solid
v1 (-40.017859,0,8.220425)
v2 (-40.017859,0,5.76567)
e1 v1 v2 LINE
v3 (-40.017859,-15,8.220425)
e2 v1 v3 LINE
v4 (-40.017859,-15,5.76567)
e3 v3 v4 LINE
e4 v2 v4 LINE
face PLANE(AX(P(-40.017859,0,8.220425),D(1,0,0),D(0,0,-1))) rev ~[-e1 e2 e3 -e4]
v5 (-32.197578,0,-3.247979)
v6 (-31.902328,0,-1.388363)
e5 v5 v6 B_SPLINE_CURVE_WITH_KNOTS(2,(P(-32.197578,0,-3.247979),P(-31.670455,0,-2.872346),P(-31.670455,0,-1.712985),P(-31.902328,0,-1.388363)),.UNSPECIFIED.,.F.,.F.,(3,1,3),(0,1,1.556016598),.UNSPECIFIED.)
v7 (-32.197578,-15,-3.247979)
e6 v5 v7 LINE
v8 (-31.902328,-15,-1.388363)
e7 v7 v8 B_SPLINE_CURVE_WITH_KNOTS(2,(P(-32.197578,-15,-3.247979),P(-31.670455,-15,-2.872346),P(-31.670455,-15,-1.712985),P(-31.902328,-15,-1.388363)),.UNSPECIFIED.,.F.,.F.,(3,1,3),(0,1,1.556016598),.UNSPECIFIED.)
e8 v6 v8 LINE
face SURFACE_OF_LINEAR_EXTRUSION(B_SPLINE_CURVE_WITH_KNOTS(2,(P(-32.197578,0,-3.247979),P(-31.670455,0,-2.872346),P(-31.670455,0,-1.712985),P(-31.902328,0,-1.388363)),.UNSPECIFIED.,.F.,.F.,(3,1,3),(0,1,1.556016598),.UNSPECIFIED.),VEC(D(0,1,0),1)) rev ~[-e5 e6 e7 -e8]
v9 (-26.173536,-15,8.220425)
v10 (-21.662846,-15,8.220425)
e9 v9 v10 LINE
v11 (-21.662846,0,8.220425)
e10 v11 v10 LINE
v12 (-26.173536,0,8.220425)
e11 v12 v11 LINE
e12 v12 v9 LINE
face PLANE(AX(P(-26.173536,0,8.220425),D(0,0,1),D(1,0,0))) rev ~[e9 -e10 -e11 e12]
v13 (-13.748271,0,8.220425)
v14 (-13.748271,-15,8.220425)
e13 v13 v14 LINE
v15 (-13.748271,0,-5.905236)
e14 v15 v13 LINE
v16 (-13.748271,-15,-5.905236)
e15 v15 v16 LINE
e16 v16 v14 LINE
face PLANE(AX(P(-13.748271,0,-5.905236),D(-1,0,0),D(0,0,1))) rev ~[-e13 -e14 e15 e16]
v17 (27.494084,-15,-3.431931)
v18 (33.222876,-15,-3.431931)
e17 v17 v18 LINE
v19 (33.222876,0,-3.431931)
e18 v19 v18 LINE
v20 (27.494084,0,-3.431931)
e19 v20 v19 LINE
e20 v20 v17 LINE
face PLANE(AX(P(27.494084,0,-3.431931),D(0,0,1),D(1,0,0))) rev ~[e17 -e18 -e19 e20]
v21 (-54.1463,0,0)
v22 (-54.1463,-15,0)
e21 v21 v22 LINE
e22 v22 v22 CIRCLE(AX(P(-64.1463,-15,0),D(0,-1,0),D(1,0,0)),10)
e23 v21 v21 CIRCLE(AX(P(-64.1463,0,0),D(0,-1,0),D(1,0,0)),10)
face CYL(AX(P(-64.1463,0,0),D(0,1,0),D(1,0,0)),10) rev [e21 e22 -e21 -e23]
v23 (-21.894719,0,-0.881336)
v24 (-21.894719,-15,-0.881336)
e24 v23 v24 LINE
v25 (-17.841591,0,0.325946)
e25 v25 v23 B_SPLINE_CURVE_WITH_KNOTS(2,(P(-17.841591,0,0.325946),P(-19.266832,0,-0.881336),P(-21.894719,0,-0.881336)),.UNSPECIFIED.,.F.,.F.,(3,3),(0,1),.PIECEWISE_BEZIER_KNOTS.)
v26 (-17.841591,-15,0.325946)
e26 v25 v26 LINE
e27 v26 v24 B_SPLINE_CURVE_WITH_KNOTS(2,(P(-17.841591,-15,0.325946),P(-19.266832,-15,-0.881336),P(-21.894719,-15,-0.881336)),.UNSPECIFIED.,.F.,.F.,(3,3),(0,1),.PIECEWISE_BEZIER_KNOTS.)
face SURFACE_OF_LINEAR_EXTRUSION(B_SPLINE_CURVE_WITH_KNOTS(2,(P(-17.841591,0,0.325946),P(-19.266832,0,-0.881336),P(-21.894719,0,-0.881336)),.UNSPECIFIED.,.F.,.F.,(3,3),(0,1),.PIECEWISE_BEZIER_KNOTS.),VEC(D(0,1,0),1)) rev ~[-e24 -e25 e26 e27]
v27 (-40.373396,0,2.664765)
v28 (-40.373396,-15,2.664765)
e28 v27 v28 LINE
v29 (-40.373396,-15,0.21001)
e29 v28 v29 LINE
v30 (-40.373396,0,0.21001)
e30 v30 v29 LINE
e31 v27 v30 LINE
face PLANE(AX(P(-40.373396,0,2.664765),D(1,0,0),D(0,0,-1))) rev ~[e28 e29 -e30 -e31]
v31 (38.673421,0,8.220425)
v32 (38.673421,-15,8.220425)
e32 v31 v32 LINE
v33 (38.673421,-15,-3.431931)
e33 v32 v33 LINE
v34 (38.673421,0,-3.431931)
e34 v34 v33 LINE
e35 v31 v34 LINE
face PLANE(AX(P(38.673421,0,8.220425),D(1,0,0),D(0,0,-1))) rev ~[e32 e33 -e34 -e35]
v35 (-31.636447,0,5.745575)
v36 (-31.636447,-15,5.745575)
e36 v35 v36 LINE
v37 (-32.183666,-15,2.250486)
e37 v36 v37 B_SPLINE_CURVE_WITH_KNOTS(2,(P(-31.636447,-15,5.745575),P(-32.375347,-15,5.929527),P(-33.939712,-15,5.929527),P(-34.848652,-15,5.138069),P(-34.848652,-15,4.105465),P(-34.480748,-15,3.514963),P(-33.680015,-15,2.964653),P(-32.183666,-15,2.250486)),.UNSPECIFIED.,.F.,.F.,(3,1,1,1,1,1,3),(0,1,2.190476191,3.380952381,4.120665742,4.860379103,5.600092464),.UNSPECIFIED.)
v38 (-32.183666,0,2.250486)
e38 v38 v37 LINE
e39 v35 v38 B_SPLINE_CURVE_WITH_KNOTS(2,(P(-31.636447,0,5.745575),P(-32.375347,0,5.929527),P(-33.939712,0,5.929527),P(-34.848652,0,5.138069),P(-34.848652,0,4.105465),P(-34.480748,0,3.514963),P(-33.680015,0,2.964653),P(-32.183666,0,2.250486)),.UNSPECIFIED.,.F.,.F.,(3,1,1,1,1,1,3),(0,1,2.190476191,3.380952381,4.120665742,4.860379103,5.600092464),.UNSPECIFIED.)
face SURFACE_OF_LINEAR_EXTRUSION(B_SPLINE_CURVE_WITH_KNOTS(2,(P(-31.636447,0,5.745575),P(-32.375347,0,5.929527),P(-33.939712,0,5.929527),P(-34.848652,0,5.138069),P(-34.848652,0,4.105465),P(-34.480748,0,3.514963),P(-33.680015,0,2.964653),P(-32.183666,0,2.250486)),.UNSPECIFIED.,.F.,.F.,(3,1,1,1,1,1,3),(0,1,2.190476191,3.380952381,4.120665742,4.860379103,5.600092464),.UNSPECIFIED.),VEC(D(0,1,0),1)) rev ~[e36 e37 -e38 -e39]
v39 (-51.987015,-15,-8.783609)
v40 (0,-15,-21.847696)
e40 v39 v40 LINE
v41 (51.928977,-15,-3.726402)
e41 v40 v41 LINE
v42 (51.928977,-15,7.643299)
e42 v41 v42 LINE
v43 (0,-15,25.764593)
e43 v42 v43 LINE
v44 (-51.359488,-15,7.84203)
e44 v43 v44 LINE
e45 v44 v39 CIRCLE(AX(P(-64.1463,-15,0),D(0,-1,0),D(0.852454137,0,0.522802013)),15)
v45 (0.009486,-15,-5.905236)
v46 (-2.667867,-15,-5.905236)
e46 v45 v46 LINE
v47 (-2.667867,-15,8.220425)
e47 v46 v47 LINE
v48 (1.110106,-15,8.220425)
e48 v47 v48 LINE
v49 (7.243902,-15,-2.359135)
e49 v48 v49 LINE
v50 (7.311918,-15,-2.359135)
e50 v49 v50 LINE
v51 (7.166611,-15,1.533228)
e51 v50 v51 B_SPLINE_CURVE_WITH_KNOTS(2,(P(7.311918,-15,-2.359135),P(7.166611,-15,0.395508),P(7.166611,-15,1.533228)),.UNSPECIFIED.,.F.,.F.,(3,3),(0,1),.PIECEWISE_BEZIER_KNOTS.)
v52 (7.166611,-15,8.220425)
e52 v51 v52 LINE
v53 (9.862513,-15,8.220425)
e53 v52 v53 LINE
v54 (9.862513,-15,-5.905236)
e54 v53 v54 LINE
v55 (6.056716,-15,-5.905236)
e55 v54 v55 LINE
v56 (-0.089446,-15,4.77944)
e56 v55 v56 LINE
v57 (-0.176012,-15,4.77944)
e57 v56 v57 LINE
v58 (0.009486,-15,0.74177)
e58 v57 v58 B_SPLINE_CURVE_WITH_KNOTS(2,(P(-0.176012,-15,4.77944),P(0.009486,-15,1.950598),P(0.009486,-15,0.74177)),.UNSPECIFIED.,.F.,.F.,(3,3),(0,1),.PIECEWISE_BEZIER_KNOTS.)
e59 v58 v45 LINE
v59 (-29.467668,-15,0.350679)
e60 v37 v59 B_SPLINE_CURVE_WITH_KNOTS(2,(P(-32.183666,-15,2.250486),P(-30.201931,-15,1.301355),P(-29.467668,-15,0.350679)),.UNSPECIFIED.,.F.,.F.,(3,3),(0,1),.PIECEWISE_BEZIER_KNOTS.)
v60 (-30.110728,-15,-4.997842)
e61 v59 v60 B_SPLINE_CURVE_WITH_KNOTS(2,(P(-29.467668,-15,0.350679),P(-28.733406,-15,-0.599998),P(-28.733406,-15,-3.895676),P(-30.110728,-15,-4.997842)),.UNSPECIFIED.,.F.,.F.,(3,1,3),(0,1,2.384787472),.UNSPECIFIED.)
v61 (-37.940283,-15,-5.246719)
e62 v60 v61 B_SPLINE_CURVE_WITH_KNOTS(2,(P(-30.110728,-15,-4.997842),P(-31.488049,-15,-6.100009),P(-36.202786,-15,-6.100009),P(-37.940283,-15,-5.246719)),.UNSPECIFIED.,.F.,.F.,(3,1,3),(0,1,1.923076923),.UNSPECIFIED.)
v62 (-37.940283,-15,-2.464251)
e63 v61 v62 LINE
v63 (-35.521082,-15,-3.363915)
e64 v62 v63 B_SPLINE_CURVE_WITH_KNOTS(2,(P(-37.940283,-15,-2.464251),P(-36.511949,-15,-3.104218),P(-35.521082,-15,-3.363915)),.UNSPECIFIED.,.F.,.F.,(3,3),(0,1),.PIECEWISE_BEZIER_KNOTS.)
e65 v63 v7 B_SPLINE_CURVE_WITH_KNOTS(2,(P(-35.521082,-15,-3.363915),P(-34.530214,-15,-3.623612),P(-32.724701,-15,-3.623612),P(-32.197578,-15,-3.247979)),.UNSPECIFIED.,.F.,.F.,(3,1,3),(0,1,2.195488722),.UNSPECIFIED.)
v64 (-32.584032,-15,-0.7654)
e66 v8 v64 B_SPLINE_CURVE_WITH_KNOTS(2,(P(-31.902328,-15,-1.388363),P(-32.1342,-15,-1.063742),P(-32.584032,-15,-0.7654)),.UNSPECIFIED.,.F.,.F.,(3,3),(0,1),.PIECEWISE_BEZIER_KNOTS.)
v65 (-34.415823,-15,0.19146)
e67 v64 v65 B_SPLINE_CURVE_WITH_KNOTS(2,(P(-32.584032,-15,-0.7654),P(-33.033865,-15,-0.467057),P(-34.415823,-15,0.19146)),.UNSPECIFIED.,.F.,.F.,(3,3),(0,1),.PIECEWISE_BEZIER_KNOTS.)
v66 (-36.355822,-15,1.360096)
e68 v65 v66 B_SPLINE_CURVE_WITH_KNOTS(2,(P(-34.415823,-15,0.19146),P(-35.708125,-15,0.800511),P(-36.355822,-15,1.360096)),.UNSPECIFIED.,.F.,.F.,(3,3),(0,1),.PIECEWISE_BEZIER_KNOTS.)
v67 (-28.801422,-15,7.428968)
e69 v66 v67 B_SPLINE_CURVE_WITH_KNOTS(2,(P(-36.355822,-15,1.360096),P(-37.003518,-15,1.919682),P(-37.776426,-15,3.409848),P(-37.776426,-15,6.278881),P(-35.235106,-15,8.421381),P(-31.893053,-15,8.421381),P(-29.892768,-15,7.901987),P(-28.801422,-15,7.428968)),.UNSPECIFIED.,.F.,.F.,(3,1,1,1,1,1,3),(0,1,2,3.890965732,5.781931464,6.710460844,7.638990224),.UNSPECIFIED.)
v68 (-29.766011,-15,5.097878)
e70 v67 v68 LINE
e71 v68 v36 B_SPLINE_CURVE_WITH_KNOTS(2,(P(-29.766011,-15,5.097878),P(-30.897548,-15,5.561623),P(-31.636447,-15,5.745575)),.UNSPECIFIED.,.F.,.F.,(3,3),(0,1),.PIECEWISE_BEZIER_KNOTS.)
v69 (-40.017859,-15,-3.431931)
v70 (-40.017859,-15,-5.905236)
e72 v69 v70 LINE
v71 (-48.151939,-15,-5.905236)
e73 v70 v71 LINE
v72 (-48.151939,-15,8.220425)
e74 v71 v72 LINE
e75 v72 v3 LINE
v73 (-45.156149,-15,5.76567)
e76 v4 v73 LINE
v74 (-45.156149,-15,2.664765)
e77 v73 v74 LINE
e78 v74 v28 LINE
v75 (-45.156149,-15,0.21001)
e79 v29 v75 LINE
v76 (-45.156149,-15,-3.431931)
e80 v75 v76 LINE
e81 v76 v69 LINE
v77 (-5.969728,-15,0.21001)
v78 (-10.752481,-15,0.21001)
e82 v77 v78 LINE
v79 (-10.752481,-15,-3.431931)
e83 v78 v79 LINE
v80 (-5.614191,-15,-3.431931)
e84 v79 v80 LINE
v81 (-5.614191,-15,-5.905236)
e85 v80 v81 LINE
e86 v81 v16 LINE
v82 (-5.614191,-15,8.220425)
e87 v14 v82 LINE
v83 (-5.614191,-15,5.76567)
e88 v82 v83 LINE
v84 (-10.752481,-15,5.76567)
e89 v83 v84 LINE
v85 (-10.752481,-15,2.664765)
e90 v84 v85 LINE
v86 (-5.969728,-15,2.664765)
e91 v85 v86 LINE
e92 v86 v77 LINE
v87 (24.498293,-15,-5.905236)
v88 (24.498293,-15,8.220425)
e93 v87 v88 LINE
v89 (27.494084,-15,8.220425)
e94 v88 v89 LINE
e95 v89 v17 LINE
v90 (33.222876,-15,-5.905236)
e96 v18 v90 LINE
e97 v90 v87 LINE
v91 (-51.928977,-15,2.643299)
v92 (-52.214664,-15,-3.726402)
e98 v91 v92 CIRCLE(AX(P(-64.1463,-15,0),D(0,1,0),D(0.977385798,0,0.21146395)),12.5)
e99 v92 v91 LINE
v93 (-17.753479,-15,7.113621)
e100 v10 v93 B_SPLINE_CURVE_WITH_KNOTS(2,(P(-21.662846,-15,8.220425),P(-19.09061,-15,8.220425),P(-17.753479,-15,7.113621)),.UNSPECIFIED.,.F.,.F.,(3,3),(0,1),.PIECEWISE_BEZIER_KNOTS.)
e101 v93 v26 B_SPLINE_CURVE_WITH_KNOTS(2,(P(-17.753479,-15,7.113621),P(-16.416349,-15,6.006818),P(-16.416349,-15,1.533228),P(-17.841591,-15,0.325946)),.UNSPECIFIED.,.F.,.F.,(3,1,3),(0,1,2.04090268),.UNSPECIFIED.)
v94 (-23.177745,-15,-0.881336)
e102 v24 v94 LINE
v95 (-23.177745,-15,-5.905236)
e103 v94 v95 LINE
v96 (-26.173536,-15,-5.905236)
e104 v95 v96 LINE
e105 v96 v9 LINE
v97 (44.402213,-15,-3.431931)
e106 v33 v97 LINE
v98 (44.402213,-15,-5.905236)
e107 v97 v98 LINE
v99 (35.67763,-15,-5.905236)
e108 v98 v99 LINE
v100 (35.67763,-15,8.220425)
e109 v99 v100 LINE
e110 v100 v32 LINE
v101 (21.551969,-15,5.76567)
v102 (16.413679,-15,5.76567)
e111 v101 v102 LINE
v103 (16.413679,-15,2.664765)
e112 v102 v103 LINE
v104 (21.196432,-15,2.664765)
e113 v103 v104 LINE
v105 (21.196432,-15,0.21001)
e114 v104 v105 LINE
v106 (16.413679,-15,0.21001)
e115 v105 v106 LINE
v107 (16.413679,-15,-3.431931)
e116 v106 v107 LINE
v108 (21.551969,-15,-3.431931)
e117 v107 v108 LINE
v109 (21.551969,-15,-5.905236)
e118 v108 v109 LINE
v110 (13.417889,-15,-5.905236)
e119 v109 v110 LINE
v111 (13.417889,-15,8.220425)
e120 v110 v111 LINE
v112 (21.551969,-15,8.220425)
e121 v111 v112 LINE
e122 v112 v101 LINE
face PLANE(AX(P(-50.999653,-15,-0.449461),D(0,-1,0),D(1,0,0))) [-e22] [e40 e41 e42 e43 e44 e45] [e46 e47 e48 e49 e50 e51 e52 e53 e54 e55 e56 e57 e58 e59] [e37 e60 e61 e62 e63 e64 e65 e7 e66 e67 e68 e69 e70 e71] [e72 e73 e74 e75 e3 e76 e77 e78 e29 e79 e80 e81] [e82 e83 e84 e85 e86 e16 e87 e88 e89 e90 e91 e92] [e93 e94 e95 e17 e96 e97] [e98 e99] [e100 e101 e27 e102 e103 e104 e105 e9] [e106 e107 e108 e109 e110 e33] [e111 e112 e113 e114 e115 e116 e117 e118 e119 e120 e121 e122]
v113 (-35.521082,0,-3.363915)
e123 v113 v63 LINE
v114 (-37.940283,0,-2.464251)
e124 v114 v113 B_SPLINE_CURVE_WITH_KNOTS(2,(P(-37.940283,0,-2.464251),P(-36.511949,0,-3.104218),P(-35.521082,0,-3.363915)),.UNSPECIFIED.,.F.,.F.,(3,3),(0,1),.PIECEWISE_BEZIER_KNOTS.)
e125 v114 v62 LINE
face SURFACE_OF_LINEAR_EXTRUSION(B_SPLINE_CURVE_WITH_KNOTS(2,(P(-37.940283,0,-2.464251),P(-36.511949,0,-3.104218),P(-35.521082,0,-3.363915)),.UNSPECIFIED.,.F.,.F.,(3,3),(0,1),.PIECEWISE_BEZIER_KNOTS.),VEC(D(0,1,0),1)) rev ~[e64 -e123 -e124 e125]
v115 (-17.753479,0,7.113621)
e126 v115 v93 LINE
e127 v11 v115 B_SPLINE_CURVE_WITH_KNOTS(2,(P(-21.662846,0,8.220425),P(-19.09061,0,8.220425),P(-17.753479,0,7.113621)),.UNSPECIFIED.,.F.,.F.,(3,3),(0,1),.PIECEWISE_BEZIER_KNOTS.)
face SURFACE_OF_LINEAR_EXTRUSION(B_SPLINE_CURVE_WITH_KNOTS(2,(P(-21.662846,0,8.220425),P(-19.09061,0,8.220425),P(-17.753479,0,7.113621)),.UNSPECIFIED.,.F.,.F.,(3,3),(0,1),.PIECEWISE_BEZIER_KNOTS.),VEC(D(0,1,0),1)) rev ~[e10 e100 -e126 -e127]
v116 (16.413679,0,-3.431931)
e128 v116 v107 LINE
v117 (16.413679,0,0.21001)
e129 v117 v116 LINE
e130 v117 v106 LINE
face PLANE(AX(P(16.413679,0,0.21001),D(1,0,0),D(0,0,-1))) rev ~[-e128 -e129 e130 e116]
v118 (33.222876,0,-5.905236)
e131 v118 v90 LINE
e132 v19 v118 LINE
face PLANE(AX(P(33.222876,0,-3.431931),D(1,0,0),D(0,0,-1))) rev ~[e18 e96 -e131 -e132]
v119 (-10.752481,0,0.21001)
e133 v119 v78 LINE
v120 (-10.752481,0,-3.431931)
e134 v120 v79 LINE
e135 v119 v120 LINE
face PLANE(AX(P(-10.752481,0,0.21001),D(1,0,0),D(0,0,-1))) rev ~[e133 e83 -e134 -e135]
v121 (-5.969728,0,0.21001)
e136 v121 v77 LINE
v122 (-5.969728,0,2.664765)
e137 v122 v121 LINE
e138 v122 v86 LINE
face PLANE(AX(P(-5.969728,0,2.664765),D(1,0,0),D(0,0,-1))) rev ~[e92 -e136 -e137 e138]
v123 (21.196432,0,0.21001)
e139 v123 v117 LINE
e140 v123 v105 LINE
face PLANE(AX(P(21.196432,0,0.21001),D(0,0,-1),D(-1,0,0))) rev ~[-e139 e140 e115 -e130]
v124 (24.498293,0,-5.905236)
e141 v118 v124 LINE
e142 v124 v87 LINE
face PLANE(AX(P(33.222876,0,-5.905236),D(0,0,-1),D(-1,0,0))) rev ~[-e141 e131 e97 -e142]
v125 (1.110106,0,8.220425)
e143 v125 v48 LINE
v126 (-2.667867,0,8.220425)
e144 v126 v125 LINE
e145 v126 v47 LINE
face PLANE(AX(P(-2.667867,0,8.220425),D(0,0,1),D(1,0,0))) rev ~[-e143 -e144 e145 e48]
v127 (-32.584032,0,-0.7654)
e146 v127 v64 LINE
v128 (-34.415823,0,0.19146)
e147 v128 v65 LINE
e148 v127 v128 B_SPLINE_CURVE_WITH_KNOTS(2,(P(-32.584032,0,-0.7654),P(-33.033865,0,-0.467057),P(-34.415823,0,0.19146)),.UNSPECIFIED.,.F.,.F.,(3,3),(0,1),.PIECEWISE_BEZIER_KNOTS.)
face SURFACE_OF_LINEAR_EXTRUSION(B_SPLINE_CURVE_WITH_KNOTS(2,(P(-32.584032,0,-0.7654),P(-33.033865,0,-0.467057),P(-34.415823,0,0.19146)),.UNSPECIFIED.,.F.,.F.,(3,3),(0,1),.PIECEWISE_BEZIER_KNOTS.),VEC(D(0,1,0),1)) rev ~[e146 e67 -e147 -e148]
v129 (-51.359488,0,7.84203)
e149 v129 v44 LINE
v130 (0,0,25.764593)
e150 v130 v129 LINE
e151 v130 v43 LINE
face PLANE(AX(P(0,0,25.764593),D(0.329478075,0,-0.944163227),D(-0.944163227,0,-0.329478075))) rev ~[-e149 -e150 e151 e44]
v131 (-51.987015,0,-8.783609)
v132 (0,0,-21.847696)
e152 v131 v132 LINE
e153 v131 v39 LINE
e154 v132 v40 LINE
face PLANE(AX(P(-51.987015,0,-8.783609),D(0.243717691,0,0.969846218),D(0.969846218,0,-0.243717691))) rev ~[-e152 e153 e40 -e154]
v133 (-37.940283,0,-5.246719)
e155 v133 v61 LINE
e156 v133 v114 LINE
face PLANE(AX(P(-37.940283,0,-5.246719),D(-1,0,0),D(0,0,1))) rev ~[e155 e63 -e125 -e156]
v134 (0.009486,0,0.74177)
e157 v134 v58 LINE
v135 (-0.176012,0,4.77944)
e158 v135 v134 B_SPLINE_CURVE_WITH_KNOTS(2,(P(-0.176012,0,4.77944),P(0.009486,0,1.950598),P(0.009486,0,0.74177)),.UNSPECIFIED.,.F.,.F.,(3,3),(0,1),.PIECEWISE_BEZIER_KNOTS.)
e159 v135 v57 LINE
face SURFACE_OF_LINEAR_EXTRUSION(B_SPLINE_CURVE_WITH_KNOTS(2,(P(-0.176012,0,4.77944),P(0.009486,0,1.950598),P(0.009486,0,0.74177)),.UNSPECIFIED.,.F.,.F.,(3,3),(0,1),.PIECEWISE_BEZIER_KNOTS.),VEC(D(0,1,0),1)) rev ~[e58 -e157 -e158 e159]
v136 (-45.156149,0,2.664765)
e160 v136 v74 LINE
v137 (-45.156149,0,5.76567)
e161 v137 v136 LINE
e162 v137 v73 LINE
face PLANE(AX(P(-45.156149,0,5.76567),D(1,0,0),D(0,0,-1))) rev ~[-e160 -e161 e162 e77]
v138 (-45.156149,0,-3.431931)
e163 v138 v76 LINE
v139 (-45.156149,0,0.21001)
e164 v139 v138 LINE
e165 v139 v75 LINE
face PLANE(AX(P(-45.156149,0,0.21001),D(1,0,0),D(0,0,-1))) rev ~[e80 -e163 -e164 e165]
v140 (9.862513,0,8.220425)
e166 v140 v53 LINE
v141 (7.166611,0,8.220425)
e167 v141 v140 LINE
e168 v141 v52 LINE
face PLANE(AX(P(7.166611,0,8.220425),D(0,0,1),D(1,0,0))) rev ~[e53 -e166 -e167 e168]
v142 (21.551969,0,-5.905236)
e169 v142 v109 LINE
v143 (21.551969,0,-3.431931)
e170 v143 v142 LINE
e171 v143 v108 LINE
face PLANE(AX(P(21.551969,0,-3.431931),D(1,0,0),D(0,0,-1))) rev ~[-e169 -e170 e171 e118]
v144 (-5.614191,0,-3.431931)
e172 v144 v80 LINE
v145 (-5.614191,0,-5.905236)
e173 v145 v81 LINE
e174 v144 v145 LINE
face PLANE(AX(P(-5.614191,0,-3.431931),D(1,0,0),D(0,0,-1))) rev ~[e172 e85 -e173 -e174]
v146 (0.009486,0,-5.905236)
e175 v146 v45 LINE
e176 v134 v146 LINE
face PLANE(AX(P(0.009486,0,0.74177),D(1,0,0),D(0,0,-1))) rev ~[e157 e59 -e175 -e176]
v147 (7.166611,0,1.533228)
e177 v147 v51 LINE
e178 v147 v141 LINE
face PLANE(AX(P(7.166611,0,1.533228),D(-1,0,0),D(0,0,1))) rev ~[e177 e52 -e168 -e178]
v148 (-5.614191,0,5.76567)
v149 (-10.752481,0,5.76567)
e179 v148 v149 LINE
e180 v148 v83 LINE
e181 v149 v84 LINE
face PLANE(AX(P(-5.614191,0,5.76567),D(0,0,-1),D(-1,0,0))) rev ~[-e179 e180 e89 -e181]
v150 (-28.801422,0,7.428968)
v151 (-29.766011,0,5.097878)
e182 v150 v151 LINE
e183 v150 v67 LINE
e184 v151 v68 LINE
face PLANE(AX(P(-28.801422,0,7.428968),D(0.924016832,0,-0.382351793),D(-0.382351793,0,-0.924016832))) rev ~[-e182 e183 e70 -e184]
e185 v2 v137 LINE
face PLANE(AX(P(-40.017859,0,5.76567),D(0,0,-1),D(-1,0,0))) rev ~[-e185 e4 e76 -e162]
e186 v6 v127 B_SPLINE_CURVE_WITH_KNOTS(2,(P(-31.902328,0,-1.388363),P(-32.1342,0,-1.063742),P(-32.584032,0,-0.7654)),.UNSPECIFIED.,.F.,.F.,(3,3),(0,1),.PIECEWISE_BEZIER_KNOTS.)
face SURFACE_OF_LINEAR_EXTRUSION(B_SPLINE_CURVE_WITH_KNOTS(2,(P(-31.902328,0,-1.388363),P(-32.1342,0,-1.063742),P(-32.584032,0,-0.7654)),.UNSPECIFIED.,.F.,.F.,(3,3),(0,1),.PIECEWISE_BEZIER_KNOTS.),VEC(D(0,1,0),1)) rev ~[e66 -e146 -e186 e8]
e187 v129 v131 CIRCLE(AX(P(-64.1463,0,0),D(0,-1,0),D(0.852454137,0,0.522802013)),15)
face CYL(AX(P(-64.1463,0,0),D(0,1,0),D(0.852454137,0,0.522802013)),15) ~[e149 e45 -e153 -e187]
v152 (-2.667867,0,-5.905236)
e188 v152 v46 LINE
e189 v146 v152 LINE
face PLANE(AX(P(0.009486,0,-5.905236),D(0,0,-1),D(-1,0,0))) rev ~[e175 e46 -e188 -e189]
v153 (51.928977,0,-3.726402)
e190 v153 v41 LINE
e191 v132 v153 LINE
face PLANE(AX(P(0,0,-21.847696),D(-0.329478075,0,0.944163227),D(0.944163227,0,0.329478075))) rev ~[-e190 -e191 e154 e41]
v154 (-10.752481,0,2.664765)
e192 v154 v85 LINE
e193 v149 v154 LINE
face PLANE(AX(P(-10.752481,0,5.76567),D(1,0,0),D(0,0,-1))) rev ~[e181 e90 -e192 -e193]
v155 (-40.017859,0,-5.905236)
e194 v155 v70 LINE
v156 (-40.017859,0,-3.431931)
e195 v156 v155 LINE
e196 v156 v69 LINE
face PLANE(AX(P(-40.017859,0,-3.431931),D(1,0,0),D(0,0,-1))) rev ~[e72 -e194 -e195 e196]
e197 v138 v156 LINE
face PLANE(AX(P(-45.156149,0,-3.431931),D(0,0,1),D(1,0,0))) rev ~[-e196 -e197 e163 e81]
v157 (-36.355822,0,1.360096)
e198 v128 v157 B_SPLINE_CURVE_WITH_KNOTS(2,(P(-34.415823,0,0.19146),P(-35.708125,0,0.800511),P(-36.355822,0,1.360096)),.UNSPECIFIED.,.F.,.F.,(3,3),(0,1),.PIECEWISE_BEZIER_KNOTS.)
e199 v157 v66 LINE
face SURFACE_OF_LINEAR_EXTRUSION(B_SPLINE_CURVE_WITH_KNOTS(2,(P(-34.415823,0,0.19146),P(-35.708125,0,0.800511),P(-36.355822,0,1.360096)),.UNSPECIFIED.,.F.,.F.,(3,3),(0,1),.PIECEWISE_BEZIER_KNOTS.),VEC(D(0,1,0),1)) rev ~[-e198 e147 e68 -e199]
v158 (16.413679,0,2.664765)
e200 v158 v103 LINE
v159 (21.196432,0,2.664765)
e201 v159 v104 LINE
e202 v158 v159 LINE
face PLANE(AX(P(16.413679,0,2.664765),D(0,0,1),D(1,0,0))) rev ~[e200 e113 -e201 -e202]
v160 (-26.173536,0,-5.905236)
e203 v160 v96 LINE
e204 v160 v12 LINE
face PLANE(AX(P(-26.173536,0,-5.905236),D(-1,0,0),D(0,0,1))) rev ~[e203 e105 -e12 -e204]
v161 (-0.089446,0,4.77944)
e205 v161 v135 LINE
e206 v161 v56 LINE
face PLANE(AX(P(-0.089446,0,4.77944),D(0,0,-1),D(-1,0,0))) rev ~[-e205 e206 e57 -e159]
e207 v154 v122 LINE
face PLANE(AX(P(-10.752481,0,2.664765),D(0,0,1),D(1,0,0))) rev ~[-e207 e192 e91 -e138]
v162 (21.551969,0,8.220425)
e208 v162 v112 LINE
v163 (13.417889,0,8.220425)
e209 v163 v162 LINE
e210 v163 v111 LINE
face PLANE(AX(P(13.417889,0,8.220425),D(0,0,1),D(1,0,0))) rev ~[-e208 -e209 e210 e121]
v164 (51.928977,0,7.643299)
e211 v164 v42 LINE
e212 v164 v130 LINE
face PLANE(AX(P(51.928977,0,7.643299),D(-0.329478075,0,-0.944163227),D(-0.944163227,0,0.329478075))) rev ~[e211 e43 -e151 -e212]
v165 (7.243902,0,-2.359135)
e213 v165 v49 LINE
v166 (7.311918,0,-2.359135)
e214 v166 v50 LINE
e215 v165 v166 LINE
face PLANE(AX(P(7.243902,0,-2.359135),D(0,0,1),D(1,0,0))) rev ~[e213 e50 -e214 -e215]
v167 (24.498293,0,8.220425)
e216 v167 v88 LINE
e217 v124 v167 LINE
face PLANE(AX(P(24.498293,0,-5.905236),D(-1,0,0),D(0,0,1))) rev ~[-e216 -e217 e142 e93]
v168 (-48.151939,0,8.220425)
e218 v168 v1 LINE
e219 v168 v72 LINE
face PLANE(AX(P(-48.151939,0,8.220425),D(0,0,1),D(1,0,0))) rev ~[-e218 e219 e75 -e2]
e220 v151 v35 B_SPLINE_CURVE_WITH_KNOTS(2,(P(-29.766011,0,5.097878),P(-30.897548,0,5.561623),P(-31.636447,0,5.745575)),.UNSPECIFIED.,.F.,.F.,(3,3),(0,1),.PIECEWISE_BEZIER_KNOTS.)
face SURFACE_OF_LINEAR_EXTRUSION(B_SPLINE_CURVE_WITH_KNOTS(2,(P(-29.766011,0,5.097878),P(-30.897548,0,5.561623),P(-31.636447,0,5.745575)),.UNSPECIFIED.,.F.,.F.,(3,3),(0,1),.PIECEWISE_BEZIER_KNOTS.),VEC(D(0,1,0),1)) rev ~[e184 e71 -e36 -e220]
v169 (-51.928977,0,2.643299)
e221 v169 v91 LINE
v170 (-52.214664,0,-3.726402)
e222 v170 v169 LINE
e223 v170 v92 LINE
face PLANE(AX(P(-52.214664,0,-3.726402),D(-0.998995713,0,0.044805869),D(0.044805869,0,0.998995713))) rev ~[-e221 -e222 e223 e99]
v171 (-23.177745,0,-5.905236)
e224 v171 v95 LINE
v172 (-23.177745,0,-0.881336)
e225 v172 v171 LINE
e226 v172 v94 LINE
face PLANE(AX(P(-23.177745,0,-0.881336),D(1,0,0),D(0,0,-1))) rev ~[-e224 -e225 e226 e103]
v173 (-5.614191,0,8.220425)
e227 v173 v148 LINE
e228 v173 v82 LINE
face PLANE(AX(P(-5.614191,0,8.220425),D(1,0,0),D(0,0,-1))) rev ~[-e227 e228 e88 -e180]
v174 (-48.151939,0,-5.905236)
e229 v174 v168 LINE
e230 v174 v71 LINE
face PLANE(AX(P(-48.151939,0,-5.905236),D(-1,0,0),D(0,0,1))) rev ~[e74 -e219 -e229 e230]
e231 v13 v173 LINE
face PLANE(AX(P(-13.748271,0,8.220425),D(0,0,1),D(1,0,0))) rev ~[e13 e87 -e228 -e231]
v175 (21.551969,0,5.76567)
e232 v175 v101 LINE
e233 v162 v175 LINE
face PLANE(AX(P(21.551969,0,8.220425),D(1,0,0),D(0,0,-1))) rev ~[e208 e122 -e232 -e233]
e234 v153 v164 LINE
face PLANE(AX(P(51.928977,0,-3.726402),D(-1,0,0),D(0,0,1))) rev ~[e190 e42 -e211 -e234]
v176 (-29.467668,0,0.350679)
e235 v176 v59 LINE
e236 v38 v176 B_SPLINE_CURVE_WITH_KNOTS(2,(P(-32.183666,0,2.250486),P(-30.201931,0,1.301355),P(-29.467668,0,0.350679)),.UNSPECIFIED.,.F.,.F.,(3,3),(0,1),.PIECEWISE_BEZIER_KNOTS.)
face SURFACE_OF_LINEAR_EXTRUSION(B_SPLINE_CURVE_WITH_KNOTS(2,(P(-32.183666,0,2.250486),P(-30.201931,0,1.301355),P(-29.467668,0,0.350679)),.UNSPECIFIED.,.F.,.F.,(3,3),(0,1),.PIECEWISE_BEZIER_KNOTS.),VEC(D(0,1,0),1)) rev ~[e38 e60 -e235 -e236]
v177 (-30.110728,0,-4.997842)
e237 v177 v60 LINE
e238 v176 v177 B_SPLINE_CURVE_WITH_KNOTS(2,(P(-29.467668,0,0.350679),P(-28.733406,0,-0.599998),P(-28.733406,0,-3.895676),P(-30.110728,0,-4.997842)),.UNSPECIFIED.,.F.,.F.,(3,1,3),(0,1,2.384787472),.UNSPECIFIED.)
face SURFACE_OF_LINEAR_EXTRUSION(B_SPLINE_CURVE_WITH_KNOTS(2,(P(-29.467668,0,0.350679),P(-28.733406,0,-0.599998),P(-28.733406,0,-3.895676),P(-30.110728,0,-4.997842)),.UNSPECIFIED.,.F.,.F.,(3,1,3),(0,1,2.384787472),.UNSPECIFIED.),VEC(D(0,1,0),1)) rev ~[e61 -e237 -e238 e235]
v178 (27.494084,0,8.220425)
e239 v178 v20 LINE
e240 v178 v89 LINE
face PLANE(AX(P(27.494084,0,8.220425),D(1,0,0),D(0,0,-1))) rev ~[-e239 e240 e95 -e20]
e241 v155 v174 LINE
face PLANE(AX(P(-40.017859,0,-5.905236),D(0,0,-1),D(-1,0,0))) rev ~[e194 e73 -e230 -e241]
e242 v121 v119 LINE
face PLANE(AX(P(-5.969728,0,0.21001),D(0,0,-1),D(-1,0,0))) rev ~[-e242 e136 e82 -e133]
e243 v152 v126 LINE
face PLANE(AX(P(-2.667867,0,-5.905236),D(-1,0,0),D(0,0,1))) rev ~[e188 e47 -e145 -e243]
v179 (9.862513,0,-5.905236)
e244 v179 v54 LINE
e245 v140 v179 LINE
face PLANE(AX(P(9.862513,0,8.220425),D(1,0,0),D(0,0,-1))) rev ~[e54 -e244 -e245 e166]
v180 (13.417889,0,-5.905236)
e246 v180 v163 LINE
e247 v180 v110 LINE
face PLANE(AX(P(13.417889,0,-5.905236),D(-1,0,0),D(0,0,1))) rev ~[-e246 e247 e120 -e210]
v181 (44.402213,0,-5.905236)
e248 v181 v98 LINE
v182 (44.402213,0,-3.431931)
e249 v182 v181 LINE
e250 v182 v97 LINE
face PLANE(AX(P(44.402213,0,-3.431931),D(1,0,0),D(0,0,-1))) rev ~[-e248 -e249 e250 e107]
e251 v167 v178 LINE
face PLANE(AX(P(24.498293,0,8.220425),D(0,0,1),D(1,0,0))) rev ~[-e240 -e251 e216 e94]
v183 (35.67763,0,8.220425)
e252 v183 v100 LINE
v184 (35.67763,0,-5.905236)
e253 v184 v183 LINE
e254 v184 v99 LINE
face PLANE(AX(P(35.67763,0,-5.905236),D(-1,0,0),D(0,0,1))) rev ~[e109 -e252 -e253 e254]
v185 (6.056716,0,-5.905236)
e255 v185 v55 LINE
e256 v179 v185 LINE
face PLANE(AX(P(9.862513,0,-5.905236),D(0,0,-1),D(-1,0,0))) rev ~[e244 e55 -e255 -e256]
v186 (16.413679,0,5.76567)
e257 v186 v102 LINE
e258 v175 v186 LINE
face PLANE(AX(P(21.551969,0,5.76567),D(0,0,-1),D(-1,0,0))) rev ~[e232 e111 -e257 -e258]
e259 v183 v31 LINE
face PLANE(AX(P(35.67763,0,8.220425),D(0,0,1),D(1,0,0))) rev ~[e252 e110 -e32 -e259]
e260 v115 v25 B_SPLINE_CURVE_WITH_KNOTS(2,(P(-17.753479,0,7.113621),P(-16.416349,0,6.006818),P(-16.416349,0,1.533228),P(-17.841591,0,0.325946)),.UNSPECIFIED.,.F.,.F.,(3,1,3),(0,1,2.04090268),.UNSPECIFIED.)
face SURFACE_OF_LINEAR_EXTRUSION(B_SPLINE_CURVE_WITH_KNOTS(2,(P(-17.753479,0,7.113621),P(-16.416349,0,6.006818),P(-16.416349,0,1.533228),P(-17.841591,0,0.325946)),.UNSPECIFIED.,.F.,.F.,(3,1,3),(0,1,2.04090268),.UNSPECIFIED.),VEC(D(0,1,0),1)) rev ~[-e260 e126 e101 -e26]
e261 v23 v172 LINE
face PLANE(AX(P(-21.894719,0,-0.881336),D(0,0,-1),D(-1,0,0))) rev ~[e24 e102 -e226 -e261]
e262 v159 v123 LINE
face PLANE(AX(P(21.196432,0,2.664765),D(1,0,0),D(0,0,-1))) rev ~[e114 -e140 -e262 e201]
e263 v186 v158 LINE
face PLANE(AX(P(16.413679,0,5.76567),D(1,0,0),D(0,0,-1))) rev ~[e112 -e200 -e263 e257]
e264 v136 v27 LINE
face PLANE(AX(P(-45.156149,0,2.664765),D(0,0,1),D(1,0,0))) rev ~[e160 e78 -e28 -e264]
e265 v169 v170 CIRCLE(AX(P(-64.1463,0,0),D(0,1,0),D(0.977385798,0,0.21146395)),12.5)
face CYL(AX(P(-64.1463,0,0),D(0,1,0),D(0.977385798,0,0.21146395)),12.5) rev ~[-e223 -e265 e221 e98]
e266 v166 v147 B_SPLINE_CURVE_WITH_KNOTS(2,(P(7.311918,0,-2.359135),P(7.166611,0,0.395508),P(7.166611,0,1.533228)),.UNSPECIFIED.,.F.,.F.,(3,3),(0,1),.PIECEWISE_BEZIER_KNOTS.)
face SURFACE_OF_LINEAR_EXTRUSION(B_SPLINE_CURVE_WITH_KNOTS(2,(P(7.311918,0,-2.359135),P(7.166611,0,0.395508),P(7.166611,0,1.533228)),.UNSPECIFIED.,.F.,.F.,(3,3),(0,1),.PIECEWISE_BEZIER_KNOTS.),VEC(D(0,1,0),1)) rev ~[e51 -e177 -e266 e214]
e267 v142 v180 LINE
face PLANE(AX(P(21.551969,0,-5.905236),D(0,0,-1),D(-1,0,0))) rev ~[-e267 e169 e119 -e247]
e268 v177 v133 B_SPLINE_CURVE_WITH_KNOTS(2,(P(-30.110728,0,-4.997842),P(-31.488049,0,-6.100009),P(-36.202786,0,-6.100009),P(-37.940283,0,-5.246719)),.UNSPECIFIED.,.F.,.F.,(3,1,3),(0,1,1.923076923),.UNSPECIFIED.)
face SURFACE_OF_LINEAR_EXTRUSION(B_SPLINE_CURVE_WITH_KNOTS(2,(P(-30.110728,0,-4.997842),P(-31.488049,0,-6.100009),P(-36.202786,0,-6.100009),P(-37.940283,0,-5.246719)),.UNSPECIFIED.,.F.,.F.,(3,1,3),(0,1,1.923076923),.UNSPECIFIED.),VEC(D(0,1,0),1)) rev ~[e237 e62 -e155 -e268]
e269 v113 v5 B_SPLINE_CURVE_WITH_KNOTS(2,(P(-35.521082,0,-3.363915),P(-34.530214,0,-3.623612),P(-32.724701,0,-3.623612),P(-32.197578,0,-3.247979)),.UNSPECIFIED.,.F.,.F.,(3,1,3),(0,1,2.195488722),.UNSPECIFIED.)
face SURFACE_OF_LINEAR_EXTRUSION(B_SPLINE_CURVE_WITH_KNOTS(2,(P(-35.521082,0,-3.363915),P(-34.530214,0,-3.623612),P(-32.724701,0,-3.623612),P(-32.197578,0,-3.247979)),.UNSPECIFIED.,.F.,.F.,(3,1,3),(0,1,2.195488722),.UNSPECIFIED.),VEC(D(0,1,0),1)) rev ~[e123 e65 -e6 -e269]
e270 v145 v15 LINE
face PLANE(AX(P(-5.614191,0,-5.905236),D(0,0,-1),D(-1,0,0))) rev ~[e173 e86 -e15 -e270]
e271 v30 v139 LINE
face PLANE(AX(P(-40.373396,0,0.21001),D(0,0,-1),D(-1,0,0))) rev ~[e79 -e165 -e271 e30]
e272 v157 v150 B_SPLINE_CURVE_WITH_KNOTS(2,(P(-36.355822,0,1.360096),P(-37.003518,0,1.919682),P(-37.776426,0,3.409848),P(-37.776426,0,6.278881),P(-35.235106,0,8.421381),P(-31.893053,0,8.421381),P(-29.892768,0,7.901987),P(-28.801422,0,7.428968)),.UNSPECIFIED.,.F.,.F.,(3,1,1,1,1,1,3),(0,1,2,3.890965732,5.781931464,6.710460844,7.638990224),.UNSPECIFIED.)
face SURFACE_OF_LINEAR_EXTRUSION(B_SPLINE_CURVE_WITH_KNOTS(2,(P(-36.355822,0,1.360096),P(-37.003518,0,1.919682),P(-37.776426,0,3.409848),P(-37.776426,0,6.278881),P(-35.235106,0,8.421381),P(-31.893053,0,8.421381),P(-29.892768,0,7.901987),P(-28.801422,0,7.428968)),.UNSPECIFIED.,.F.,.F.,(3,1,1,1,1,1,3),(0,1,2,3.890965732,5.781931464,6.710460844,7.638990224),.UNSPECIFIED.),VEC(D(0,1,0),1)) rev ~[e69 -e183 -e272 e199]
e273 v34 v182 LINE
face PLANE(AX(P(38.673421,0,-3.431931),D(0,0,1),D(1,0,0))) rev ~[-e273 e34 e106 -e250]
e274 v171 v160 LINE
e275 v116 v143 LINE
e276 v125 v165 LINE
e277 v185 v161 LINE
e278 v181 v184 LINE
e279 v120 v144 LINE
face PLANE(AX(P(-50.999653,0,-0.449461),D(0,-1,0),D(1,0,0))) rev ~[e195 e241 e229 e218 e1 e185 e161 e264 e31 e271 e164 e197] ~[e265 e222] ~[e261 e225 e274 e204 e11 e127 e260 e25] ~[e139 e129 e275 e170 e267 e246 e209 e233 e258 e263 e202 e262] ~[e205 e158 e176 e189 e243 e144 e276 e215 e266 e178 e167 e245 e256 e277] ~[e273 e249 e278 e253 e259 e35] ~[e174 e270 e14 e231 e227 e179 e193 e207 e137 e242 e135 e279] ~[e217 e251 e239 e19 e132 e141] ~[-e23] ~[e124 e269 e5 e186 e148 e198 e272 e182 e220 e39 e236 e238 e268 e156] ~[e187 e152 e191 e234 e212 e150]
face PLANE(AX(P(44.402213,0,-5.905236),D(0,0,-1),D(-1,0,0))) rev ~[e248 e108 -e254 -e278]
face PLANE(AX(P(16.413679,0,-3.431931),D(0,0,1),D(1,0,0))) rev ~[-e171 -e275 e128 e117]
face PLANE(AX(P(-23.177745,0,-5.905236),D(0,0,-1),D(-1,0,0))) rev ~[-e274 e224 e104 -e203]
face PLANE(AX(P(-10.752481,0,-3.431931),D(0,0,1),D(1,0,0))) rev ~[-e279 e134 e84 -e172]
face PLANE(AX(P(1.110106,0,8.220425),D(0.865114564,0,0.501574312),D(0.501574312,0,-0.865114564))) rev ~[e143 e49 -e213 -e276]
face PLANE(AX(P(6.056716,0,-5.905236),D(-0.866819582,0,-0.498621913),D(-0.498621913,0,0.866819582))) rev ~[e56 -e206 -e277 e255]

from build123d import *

# Parameters (mm, degrees)
F0_R     = 10
F1_DEPTH = 15


with BuildPart() as f1:
    # F0 (on Front) → F1 (new body)
    with BuildSketch(Plane.XZ):
        with BuildLine():
            ThreePointArc((-51.9289774608, 2.6432993809), (-51.6588535234, -0.5600733653), (-52.2146643877, -3.726402182))
            Line((-52.2146643877, -3.726402182), (-52.2146643877, -8.726402182))
            Line((-52.2146643877, -8.726402182), (-51.9870151319, -8.7836093454))
            ThreePointArc((-51.9870151319, -8.7836093454), (-49.874136957, -4.6157733907), (-49.1462999327, 0))
            ThreePointArc((-49.1462999327, 0), (-49.7101962212, 4.0741759452), (-51.3594878837, 7.8420301978))
            Line((-51.3594878837, 7.8420301978), (-51.9289774608, 7.6432993809))
            Line((-51.9289774608, 7.6432993809), (-51.9289774608, 2.6432993809))
        make_face()
        with BuildLine():
            Line((-52.2146643877, -8.726402182), (-52.2146643877, -3.726402182))
            Line((-52.2146643877, -3.726402182), (-51.9289774608, 2.6432993809))
            Line((-51.9289774608, 2.6432993809), (-51.9289774608, 7.6432993809))
            Line((-51.9289774608, 7.6432993809), (-51.3594878837, 7.8420301978))
            ThreePointArc((-51.3594878837, 7.8420301978), (-79.1356264541, 0.565765353), (-51.9870151319, -8.7836093454))
            Line((-51.9870151319, -8.7836093454), (-52.2146643877, -8.726402182))
        make_face()
        with Locations((-64.1462999327, 0)):
            Circle(F0_R, mode=Mode.SUBTRACT)
        with BuildLine():
            ThreePointArc((-49.1462999327, 0), (-49.874136957, -4.6157733907), (-51.9870151319, -8.7836093454))
            Line((-51.9870151319, -8.7836093454), (0, -21.8476962826))
            Line((0, -21.8476962826), (51.9289774608, -3.726402182))
            Line((51.9289774608, -3.726402182), (51.9289774608, 7.6432993809))
            Line((51.9289774608, 7.6432993809), (0, 25.7645934815))
            Line((0, 25.7645934815), (-51.3594878837, 7.8420301978))
            ThreePointArc((-51.3594878837, 7.8420301978), (-49.7101962212, 4.0741759452), (-49.1462999327, 0))
        make_face()
        Polygon((-40.0178585444, -3.4319313488), (-40.0178585444, -5.9052360061), (-48.1519392362, -5.9052360061), (-48.1519392362, 8.2204252181), (-40.0178585444, 8.2204252181), (-40.0178585444, 5.7656703457), (-45.15614897, 5.7656703457), (-45.15614897, 2.6647646316), (-40.3733960889, 2.6647646316), (-40.3733960889, 0.2100097592), (-45.15614897, 0.2100097592), (-45.15614897, -3.4319313488), align=None, mode=Mode.SUBTRACT)
        with BuildLine():
            add(Edge.make_bspline(
                [(-29.4676683654, 0.3506789616), (-28.7334060453, -0.5999975161), (-28.7334060453, -1.9819564934)],
                knots=[0, 0, 0, 1, 1, 1], degree=2))
            add(Edge.make_bspline(
                [(-28.7334060453, -1.9819564934), (-28.7334060453, -3.895675972), (-30.1107275763, -4.9978423599)],
                knots=[0, 0, 0, 1, 1, 1], degree=2))
            add(Edge.make_bspline(
                [(-30.1107275763, -4.9978423599), (-31.4880491074, -6.1000087479), (-33.939712349, -6.1000087479)],
                knots=[0, 0, 0, 1, 1, 1], degree=2))
            add(Edge.make_bspline(
                [(-33.939712349, -6.1000087479), (-36.2027861105, -6.1000087479), (-37.9402826322, -5.2467186411)],
                knots=[0, 0, 0, 1, 1, 1], degree=2))
            Line((-37.9402826322, -5.2467186411), (-37.9402826322, -2.4642509016))
            add(Edge.make_bspline(
                [(-37.9402826322, -2.4642509016), (-36.5119491926, -3.1042184817), (-35.5210815143, -3.3639154707)],
                knots=[0, 0, 0, 1, 1, 1], degree=2))
            add(Edge.make_bspline(
                [(-35.5210815143, -3.3639154707), (-34.5302138359, -3.6236124597), (-33.7078400374, -3.6236124597)],
                knots=[0, 0, 0, 1, 1, 1], degree=2))
            add(Edge.make_bspline(
                [(-33.7078400374, -3.6236124597), (-32.7247014361, -3.6236124597), (-32.197578381, -3.2479793149)],
                knots=[0, 0, 0, 1, 1, 1], degree=2))
            add(Edge.make_bspline(
                [(-32.197578381, -3.2479793149), (-31.6704553259, -2.87234617), (-31.6704553259, -2.127263142)],
                knots=[0, 0, 0, 1, 1, 1], degree=2))
            add(Edge.make_bspline(
                [(-31.6704553259, -2.127263142), (-31.6704553259, -1.7129846119), (-31.9023276375, -1.3883633756)],
                knots=[0, 0, 0, 1, 1, 1], degree=2))
            add(Edge.make_bspline(
                [(-31.9023276375, -1.3883633756), (-32.1341999491, -1.0637421394), (-32.5840322337, -0.7653997651)],
                knots=[0, 0, 0, 1, 1, 1], degree=2))
            add(Edge.make_bspline(
                [(-32.5840322337, -0.7653997651), (-33.0338645182, -0.4670573908), (-34.4158234955, 0.1914599742)],
                knots=[0, 0, 0, 1, 1, 1], degree=2))
            add(Edge.make_bspline(
                [(-34.4158234955, 0.1914599742), (-35.708125179, 0.8005112461), (-36.3558218361, 1.3600964248)],
                knots=[0, 0, 0, 1, 1, 1], degree=2))
            add(Edge.make_bspline(
                [(-36.3558218361, 1.3600964248), (-37.0035184933, 1.9196816036), (-37.389972346, 2.6647646316)],
                knots=[0, 0, 0, 1, 1, 1], degree=2))
            add(Edge.make_bspline(
                [(-37.389972346, 2.6647646316), (-37.7764261987, 3.4098476596), (-37.7764261987, 4.4022611534)],
                knots=[0, 0, 0, 1, 1, 1], degree=2))
            add(Edge.make_bspline(
                [(-37.7764261987, 4.4022611534), (-37.7764261987, 6.2788810621), (-36.505765931, 7.3501311418)],
                knots=[0, 0, 0, 1, 1, 1], degree=2))
            add(Edge.make_bspline(
                [(-36.505765931, 7.3501311418), (-35.2351056633, 8.4213812215), (-32.9936733176, 8.4213812215)],
                knots=[0, 0, 0, 1, 1, 1], degree=2))
            add(Edge.make_bspline(
                [(-32.9936733176, 8.4213812215), (-31.893052745, 8.4213812215), (-30.8929101742, 8.1616842325)],
                knots=[0, 0, 0, 1, 1, 1], degree=2))
            add(Edge.make_bspline(
                [(-30.8929101742, 8.1616842325), (-29.8927676034, 7.9019872435), (-28.8014219234, 7.4289677278)],
                knots=[0, 0, 0, 1, 1, 1], degree=2))
            Line((-28.8014219234, 7.4289677278), (-29.7660107397, 5.0978780882))
            add(Edge.make_bspline(
                [(-29.7660107397, 5.0978780882), (-30.8975476205, 5.5616227115), (-31.6364473868, 5.7455747454)],
                knots=[0, 0, 0, 1, 1, 1], degree=2))
            add(Edge.make_bspline(
                [(-31.6364473868, 5.7455747454), (-32.3753471532, 5.9295267793), (-33.089513873, 5.9295267793)],
                knots=[0, 0, 0, 1, 1, 1], degree=2))
            add(Edge.make_bspline(
                [(-33.089513873, 5.9295267793), (-33.939712349, 5.9295267793), (-34.3941820798, 5.5337980341)],
                knots=[0, 0, 0, 1, 1, 1], degree=2))
            add(Edge.make_bspline(
                [(-34.3941820798, 5.5337980341), (-34.8486518106, 5.1380692889), (-34.8486518106, 4.5011933396)],
                knots=[0, 0, 0, 1, 1, 1], degree=2))
            add(Edge.make_bspline(
                [(-34.8486518106, 4.5011933396), (-34.8486518106, 4.1054645945), (-34.6646997767, 3.810213851)],
                knots=[0, 0, 0, 1, 1, 1], degree=2))
            add(Edge.make_bspline(
                [(-34.6646997767, 3.810213851), (-34.4807477428, 3.5149631075), (-34.0803815514, 3.2398079644)],
                knots=[0, 0, 0, 1, 1, 1], degree=2))
            add(Edge.make_bspline(
                [(-34.0803815514, 3.2398079644), (-33.68001536, 2.9646528213), (-32.1836660423, 2.2504861015)],
                knots=[0, 0, 0, 1, 1, 1], degree=2))
            add(Edge.make_bspline(
                [(-32.1836660423, 2.2504861015), (-30.2019306856, 1.3013554392), (-29.4676683654, 0.3506789616)],
                knots=[0, 0, 0, 1, 1, 1], degree=2))
        make_face(mode=Mode.SUBTRACT)
        with BuildLine():
            add(Edge.make_bspline(
                [(-17.7534791821, 7.113621384), (-16.4163488518, 6.0068175498), (-16.4163488518, 3.8148512972)],
                knots=[0, 0, 0, 1, 1, 1], degree=2))
            add(Edge.make_bspline(
                [(-16.4163488518, 3.8148512972), (-16.4163488518, 1.5332277508), (-17.8415906605, 0.325945915)],
                knots=[0, 0, 0, 1, 1, 1], degree=2))
            add(Edge.make_bspline(
                [(-17.8415906605, 0.325945915), (-19.2668324693, -0.8813359209), (-21.8947186678, -0.8813359209)],
                knots=[0, 0, 0, 1, 1, 1], degree=2))
            Line((-21.8947186678, -0.8813359209), (-23.1777454587, -0.8813359209))
            Line((-23.1777454587, -0.8813359209), (-23.1777454587, -5.9052360061))
            Line((-23.1777454587, -5.9052360061), (-26.1735357249, -5.9052360061))
            Line((-26.1735357249, -5.9052360061), (-26.1735357249, 8.2204252181))
            Line((-26.1735357249, 8.2204252181), (-21.6628463561, 8.2204252181))
            add(Edge.make_bspline(
                [(-21.6628463561, 8.2204252181), (-19.0906095125, 8.2204252181), (-17.7534791821, 7.113621384)],
                knots=[0, 0, 0, 1, 1, 1], degree=2))
        make_face(mode=Mode.SUBTRACT)
        Polygon((-5.6141907608, -3.4319313488), (-5.6141907608, -5.9052360061), (-13.7482714526, -5.9052360061), (-13.7482714526, 8.2204252181), (-5.6141907608, 8.2204252181), (-5.6141907608, 5.7656703457), (-10.7524811864, 5.7656703457), (-10.7524811864, 2.6647646316), (-5.9697283053, 2.6647646316), (-5.9697283053, 0.2100097592), (-10.7524811864, 0.2100097592), (-10.7524811864, -3.4319313488), align=None, mode=Mode.SUBTRACT)
        with BuildLine():
            Line((9.8625131325, 8.2204252181), (9.8625131325, -5.9052360061))
            Line((9.8625131325, -5.9052360061), (6.056715591, -5.9052360061))
            Line((6.056715591, -5.9052360061), (-0.0894464825, 4.7794401136))
            Line((-0.0894464825, 4.7794401136), (-0.1760121455, 4.7794401136))
            add(Edge.make_bspline(
                [(-0.1760121455, 4.7794401136), (0.0094857038, 1.9505979118), (0.0094857038, 0.7417702605)],
                knots=[0, 0, 0, 1, 1, 1], degree=2))
            Line((0.0094857038, 0.7417702605), (0.0094857038, -5.9052360061))
            Line((0.0094857038, -5.9052360061), (-2.6678665878, -5.9052360061))
            Line((-2.6678665878, -5.9052360061), (-2.6678665878, 8.2204252181))
            Line((-2.6678665878, 8.2204252181), (1.1101062763, 8.2204252181))
            Line((1.1101062763, 8.2204252181), (7.2439018265, -2.3591354536))
            Line((7.2439018265, -2.3591354536), (7.3119177046, -2.3591354536))
            add(Edge.make_bspline(
                [(7.3119177046, -2.3591354536), (7.166611056, 0.3955076085), (7.166611056, 1.5332277508)],
                knots=[0, 0, 0, 1, 1, 1], degree=2))
            Line((7.166611056, 1.5332277508), (7.166611056, 8.2204252181))
            Line((7.166611056, 8.2204252181), (9.8625131325, 8.2204252181))
        make_face(mode=Mode.SUBTRACT)
        Polygon((21.5519692692, -3.4319313488), (21.5519692692, -5.9052360061), (13.4178885774, -5.9052360061), (13.4178885774, 8.2204252181), (21.5519692692, 8.2204252181), (21.5519692692, 5.7656703457), (16.4136788436, 5.7656703457), (16.4136788436, 2.6647646316), (21.1964317247, 2.6647646316), (21.1964317247, 0.2100097592), (16.4136788436, 0.2100097592), (16.4136788436, -3.4319313488), align=None, mode=Mode.SUBTRACT)
        Polygon((33.222875621, -5.9052360061), (24.4982934423, -5.9052360061), (24.4982934423, 8.2204252181), (27.4940837085, 8.2204252181), (27.4940837085, -3.4319313488), (33.222875621, -3.4319313488), align=None, mode=Mode.SUBTRACT)
        Polygon((44.4022126722, -5.9052360061), (35.6776304934, -5.9052360061), (35.6776304934, 8.2204252181), (38.6734207596, 8.2204252181), (38.6734207596, -3.4319313488), (44.4022126722, -3.4319313488), align=None, mode=Mode.SUBTRACT)
    extrude(amount=F1_DEPTH)


solid = f1.part
